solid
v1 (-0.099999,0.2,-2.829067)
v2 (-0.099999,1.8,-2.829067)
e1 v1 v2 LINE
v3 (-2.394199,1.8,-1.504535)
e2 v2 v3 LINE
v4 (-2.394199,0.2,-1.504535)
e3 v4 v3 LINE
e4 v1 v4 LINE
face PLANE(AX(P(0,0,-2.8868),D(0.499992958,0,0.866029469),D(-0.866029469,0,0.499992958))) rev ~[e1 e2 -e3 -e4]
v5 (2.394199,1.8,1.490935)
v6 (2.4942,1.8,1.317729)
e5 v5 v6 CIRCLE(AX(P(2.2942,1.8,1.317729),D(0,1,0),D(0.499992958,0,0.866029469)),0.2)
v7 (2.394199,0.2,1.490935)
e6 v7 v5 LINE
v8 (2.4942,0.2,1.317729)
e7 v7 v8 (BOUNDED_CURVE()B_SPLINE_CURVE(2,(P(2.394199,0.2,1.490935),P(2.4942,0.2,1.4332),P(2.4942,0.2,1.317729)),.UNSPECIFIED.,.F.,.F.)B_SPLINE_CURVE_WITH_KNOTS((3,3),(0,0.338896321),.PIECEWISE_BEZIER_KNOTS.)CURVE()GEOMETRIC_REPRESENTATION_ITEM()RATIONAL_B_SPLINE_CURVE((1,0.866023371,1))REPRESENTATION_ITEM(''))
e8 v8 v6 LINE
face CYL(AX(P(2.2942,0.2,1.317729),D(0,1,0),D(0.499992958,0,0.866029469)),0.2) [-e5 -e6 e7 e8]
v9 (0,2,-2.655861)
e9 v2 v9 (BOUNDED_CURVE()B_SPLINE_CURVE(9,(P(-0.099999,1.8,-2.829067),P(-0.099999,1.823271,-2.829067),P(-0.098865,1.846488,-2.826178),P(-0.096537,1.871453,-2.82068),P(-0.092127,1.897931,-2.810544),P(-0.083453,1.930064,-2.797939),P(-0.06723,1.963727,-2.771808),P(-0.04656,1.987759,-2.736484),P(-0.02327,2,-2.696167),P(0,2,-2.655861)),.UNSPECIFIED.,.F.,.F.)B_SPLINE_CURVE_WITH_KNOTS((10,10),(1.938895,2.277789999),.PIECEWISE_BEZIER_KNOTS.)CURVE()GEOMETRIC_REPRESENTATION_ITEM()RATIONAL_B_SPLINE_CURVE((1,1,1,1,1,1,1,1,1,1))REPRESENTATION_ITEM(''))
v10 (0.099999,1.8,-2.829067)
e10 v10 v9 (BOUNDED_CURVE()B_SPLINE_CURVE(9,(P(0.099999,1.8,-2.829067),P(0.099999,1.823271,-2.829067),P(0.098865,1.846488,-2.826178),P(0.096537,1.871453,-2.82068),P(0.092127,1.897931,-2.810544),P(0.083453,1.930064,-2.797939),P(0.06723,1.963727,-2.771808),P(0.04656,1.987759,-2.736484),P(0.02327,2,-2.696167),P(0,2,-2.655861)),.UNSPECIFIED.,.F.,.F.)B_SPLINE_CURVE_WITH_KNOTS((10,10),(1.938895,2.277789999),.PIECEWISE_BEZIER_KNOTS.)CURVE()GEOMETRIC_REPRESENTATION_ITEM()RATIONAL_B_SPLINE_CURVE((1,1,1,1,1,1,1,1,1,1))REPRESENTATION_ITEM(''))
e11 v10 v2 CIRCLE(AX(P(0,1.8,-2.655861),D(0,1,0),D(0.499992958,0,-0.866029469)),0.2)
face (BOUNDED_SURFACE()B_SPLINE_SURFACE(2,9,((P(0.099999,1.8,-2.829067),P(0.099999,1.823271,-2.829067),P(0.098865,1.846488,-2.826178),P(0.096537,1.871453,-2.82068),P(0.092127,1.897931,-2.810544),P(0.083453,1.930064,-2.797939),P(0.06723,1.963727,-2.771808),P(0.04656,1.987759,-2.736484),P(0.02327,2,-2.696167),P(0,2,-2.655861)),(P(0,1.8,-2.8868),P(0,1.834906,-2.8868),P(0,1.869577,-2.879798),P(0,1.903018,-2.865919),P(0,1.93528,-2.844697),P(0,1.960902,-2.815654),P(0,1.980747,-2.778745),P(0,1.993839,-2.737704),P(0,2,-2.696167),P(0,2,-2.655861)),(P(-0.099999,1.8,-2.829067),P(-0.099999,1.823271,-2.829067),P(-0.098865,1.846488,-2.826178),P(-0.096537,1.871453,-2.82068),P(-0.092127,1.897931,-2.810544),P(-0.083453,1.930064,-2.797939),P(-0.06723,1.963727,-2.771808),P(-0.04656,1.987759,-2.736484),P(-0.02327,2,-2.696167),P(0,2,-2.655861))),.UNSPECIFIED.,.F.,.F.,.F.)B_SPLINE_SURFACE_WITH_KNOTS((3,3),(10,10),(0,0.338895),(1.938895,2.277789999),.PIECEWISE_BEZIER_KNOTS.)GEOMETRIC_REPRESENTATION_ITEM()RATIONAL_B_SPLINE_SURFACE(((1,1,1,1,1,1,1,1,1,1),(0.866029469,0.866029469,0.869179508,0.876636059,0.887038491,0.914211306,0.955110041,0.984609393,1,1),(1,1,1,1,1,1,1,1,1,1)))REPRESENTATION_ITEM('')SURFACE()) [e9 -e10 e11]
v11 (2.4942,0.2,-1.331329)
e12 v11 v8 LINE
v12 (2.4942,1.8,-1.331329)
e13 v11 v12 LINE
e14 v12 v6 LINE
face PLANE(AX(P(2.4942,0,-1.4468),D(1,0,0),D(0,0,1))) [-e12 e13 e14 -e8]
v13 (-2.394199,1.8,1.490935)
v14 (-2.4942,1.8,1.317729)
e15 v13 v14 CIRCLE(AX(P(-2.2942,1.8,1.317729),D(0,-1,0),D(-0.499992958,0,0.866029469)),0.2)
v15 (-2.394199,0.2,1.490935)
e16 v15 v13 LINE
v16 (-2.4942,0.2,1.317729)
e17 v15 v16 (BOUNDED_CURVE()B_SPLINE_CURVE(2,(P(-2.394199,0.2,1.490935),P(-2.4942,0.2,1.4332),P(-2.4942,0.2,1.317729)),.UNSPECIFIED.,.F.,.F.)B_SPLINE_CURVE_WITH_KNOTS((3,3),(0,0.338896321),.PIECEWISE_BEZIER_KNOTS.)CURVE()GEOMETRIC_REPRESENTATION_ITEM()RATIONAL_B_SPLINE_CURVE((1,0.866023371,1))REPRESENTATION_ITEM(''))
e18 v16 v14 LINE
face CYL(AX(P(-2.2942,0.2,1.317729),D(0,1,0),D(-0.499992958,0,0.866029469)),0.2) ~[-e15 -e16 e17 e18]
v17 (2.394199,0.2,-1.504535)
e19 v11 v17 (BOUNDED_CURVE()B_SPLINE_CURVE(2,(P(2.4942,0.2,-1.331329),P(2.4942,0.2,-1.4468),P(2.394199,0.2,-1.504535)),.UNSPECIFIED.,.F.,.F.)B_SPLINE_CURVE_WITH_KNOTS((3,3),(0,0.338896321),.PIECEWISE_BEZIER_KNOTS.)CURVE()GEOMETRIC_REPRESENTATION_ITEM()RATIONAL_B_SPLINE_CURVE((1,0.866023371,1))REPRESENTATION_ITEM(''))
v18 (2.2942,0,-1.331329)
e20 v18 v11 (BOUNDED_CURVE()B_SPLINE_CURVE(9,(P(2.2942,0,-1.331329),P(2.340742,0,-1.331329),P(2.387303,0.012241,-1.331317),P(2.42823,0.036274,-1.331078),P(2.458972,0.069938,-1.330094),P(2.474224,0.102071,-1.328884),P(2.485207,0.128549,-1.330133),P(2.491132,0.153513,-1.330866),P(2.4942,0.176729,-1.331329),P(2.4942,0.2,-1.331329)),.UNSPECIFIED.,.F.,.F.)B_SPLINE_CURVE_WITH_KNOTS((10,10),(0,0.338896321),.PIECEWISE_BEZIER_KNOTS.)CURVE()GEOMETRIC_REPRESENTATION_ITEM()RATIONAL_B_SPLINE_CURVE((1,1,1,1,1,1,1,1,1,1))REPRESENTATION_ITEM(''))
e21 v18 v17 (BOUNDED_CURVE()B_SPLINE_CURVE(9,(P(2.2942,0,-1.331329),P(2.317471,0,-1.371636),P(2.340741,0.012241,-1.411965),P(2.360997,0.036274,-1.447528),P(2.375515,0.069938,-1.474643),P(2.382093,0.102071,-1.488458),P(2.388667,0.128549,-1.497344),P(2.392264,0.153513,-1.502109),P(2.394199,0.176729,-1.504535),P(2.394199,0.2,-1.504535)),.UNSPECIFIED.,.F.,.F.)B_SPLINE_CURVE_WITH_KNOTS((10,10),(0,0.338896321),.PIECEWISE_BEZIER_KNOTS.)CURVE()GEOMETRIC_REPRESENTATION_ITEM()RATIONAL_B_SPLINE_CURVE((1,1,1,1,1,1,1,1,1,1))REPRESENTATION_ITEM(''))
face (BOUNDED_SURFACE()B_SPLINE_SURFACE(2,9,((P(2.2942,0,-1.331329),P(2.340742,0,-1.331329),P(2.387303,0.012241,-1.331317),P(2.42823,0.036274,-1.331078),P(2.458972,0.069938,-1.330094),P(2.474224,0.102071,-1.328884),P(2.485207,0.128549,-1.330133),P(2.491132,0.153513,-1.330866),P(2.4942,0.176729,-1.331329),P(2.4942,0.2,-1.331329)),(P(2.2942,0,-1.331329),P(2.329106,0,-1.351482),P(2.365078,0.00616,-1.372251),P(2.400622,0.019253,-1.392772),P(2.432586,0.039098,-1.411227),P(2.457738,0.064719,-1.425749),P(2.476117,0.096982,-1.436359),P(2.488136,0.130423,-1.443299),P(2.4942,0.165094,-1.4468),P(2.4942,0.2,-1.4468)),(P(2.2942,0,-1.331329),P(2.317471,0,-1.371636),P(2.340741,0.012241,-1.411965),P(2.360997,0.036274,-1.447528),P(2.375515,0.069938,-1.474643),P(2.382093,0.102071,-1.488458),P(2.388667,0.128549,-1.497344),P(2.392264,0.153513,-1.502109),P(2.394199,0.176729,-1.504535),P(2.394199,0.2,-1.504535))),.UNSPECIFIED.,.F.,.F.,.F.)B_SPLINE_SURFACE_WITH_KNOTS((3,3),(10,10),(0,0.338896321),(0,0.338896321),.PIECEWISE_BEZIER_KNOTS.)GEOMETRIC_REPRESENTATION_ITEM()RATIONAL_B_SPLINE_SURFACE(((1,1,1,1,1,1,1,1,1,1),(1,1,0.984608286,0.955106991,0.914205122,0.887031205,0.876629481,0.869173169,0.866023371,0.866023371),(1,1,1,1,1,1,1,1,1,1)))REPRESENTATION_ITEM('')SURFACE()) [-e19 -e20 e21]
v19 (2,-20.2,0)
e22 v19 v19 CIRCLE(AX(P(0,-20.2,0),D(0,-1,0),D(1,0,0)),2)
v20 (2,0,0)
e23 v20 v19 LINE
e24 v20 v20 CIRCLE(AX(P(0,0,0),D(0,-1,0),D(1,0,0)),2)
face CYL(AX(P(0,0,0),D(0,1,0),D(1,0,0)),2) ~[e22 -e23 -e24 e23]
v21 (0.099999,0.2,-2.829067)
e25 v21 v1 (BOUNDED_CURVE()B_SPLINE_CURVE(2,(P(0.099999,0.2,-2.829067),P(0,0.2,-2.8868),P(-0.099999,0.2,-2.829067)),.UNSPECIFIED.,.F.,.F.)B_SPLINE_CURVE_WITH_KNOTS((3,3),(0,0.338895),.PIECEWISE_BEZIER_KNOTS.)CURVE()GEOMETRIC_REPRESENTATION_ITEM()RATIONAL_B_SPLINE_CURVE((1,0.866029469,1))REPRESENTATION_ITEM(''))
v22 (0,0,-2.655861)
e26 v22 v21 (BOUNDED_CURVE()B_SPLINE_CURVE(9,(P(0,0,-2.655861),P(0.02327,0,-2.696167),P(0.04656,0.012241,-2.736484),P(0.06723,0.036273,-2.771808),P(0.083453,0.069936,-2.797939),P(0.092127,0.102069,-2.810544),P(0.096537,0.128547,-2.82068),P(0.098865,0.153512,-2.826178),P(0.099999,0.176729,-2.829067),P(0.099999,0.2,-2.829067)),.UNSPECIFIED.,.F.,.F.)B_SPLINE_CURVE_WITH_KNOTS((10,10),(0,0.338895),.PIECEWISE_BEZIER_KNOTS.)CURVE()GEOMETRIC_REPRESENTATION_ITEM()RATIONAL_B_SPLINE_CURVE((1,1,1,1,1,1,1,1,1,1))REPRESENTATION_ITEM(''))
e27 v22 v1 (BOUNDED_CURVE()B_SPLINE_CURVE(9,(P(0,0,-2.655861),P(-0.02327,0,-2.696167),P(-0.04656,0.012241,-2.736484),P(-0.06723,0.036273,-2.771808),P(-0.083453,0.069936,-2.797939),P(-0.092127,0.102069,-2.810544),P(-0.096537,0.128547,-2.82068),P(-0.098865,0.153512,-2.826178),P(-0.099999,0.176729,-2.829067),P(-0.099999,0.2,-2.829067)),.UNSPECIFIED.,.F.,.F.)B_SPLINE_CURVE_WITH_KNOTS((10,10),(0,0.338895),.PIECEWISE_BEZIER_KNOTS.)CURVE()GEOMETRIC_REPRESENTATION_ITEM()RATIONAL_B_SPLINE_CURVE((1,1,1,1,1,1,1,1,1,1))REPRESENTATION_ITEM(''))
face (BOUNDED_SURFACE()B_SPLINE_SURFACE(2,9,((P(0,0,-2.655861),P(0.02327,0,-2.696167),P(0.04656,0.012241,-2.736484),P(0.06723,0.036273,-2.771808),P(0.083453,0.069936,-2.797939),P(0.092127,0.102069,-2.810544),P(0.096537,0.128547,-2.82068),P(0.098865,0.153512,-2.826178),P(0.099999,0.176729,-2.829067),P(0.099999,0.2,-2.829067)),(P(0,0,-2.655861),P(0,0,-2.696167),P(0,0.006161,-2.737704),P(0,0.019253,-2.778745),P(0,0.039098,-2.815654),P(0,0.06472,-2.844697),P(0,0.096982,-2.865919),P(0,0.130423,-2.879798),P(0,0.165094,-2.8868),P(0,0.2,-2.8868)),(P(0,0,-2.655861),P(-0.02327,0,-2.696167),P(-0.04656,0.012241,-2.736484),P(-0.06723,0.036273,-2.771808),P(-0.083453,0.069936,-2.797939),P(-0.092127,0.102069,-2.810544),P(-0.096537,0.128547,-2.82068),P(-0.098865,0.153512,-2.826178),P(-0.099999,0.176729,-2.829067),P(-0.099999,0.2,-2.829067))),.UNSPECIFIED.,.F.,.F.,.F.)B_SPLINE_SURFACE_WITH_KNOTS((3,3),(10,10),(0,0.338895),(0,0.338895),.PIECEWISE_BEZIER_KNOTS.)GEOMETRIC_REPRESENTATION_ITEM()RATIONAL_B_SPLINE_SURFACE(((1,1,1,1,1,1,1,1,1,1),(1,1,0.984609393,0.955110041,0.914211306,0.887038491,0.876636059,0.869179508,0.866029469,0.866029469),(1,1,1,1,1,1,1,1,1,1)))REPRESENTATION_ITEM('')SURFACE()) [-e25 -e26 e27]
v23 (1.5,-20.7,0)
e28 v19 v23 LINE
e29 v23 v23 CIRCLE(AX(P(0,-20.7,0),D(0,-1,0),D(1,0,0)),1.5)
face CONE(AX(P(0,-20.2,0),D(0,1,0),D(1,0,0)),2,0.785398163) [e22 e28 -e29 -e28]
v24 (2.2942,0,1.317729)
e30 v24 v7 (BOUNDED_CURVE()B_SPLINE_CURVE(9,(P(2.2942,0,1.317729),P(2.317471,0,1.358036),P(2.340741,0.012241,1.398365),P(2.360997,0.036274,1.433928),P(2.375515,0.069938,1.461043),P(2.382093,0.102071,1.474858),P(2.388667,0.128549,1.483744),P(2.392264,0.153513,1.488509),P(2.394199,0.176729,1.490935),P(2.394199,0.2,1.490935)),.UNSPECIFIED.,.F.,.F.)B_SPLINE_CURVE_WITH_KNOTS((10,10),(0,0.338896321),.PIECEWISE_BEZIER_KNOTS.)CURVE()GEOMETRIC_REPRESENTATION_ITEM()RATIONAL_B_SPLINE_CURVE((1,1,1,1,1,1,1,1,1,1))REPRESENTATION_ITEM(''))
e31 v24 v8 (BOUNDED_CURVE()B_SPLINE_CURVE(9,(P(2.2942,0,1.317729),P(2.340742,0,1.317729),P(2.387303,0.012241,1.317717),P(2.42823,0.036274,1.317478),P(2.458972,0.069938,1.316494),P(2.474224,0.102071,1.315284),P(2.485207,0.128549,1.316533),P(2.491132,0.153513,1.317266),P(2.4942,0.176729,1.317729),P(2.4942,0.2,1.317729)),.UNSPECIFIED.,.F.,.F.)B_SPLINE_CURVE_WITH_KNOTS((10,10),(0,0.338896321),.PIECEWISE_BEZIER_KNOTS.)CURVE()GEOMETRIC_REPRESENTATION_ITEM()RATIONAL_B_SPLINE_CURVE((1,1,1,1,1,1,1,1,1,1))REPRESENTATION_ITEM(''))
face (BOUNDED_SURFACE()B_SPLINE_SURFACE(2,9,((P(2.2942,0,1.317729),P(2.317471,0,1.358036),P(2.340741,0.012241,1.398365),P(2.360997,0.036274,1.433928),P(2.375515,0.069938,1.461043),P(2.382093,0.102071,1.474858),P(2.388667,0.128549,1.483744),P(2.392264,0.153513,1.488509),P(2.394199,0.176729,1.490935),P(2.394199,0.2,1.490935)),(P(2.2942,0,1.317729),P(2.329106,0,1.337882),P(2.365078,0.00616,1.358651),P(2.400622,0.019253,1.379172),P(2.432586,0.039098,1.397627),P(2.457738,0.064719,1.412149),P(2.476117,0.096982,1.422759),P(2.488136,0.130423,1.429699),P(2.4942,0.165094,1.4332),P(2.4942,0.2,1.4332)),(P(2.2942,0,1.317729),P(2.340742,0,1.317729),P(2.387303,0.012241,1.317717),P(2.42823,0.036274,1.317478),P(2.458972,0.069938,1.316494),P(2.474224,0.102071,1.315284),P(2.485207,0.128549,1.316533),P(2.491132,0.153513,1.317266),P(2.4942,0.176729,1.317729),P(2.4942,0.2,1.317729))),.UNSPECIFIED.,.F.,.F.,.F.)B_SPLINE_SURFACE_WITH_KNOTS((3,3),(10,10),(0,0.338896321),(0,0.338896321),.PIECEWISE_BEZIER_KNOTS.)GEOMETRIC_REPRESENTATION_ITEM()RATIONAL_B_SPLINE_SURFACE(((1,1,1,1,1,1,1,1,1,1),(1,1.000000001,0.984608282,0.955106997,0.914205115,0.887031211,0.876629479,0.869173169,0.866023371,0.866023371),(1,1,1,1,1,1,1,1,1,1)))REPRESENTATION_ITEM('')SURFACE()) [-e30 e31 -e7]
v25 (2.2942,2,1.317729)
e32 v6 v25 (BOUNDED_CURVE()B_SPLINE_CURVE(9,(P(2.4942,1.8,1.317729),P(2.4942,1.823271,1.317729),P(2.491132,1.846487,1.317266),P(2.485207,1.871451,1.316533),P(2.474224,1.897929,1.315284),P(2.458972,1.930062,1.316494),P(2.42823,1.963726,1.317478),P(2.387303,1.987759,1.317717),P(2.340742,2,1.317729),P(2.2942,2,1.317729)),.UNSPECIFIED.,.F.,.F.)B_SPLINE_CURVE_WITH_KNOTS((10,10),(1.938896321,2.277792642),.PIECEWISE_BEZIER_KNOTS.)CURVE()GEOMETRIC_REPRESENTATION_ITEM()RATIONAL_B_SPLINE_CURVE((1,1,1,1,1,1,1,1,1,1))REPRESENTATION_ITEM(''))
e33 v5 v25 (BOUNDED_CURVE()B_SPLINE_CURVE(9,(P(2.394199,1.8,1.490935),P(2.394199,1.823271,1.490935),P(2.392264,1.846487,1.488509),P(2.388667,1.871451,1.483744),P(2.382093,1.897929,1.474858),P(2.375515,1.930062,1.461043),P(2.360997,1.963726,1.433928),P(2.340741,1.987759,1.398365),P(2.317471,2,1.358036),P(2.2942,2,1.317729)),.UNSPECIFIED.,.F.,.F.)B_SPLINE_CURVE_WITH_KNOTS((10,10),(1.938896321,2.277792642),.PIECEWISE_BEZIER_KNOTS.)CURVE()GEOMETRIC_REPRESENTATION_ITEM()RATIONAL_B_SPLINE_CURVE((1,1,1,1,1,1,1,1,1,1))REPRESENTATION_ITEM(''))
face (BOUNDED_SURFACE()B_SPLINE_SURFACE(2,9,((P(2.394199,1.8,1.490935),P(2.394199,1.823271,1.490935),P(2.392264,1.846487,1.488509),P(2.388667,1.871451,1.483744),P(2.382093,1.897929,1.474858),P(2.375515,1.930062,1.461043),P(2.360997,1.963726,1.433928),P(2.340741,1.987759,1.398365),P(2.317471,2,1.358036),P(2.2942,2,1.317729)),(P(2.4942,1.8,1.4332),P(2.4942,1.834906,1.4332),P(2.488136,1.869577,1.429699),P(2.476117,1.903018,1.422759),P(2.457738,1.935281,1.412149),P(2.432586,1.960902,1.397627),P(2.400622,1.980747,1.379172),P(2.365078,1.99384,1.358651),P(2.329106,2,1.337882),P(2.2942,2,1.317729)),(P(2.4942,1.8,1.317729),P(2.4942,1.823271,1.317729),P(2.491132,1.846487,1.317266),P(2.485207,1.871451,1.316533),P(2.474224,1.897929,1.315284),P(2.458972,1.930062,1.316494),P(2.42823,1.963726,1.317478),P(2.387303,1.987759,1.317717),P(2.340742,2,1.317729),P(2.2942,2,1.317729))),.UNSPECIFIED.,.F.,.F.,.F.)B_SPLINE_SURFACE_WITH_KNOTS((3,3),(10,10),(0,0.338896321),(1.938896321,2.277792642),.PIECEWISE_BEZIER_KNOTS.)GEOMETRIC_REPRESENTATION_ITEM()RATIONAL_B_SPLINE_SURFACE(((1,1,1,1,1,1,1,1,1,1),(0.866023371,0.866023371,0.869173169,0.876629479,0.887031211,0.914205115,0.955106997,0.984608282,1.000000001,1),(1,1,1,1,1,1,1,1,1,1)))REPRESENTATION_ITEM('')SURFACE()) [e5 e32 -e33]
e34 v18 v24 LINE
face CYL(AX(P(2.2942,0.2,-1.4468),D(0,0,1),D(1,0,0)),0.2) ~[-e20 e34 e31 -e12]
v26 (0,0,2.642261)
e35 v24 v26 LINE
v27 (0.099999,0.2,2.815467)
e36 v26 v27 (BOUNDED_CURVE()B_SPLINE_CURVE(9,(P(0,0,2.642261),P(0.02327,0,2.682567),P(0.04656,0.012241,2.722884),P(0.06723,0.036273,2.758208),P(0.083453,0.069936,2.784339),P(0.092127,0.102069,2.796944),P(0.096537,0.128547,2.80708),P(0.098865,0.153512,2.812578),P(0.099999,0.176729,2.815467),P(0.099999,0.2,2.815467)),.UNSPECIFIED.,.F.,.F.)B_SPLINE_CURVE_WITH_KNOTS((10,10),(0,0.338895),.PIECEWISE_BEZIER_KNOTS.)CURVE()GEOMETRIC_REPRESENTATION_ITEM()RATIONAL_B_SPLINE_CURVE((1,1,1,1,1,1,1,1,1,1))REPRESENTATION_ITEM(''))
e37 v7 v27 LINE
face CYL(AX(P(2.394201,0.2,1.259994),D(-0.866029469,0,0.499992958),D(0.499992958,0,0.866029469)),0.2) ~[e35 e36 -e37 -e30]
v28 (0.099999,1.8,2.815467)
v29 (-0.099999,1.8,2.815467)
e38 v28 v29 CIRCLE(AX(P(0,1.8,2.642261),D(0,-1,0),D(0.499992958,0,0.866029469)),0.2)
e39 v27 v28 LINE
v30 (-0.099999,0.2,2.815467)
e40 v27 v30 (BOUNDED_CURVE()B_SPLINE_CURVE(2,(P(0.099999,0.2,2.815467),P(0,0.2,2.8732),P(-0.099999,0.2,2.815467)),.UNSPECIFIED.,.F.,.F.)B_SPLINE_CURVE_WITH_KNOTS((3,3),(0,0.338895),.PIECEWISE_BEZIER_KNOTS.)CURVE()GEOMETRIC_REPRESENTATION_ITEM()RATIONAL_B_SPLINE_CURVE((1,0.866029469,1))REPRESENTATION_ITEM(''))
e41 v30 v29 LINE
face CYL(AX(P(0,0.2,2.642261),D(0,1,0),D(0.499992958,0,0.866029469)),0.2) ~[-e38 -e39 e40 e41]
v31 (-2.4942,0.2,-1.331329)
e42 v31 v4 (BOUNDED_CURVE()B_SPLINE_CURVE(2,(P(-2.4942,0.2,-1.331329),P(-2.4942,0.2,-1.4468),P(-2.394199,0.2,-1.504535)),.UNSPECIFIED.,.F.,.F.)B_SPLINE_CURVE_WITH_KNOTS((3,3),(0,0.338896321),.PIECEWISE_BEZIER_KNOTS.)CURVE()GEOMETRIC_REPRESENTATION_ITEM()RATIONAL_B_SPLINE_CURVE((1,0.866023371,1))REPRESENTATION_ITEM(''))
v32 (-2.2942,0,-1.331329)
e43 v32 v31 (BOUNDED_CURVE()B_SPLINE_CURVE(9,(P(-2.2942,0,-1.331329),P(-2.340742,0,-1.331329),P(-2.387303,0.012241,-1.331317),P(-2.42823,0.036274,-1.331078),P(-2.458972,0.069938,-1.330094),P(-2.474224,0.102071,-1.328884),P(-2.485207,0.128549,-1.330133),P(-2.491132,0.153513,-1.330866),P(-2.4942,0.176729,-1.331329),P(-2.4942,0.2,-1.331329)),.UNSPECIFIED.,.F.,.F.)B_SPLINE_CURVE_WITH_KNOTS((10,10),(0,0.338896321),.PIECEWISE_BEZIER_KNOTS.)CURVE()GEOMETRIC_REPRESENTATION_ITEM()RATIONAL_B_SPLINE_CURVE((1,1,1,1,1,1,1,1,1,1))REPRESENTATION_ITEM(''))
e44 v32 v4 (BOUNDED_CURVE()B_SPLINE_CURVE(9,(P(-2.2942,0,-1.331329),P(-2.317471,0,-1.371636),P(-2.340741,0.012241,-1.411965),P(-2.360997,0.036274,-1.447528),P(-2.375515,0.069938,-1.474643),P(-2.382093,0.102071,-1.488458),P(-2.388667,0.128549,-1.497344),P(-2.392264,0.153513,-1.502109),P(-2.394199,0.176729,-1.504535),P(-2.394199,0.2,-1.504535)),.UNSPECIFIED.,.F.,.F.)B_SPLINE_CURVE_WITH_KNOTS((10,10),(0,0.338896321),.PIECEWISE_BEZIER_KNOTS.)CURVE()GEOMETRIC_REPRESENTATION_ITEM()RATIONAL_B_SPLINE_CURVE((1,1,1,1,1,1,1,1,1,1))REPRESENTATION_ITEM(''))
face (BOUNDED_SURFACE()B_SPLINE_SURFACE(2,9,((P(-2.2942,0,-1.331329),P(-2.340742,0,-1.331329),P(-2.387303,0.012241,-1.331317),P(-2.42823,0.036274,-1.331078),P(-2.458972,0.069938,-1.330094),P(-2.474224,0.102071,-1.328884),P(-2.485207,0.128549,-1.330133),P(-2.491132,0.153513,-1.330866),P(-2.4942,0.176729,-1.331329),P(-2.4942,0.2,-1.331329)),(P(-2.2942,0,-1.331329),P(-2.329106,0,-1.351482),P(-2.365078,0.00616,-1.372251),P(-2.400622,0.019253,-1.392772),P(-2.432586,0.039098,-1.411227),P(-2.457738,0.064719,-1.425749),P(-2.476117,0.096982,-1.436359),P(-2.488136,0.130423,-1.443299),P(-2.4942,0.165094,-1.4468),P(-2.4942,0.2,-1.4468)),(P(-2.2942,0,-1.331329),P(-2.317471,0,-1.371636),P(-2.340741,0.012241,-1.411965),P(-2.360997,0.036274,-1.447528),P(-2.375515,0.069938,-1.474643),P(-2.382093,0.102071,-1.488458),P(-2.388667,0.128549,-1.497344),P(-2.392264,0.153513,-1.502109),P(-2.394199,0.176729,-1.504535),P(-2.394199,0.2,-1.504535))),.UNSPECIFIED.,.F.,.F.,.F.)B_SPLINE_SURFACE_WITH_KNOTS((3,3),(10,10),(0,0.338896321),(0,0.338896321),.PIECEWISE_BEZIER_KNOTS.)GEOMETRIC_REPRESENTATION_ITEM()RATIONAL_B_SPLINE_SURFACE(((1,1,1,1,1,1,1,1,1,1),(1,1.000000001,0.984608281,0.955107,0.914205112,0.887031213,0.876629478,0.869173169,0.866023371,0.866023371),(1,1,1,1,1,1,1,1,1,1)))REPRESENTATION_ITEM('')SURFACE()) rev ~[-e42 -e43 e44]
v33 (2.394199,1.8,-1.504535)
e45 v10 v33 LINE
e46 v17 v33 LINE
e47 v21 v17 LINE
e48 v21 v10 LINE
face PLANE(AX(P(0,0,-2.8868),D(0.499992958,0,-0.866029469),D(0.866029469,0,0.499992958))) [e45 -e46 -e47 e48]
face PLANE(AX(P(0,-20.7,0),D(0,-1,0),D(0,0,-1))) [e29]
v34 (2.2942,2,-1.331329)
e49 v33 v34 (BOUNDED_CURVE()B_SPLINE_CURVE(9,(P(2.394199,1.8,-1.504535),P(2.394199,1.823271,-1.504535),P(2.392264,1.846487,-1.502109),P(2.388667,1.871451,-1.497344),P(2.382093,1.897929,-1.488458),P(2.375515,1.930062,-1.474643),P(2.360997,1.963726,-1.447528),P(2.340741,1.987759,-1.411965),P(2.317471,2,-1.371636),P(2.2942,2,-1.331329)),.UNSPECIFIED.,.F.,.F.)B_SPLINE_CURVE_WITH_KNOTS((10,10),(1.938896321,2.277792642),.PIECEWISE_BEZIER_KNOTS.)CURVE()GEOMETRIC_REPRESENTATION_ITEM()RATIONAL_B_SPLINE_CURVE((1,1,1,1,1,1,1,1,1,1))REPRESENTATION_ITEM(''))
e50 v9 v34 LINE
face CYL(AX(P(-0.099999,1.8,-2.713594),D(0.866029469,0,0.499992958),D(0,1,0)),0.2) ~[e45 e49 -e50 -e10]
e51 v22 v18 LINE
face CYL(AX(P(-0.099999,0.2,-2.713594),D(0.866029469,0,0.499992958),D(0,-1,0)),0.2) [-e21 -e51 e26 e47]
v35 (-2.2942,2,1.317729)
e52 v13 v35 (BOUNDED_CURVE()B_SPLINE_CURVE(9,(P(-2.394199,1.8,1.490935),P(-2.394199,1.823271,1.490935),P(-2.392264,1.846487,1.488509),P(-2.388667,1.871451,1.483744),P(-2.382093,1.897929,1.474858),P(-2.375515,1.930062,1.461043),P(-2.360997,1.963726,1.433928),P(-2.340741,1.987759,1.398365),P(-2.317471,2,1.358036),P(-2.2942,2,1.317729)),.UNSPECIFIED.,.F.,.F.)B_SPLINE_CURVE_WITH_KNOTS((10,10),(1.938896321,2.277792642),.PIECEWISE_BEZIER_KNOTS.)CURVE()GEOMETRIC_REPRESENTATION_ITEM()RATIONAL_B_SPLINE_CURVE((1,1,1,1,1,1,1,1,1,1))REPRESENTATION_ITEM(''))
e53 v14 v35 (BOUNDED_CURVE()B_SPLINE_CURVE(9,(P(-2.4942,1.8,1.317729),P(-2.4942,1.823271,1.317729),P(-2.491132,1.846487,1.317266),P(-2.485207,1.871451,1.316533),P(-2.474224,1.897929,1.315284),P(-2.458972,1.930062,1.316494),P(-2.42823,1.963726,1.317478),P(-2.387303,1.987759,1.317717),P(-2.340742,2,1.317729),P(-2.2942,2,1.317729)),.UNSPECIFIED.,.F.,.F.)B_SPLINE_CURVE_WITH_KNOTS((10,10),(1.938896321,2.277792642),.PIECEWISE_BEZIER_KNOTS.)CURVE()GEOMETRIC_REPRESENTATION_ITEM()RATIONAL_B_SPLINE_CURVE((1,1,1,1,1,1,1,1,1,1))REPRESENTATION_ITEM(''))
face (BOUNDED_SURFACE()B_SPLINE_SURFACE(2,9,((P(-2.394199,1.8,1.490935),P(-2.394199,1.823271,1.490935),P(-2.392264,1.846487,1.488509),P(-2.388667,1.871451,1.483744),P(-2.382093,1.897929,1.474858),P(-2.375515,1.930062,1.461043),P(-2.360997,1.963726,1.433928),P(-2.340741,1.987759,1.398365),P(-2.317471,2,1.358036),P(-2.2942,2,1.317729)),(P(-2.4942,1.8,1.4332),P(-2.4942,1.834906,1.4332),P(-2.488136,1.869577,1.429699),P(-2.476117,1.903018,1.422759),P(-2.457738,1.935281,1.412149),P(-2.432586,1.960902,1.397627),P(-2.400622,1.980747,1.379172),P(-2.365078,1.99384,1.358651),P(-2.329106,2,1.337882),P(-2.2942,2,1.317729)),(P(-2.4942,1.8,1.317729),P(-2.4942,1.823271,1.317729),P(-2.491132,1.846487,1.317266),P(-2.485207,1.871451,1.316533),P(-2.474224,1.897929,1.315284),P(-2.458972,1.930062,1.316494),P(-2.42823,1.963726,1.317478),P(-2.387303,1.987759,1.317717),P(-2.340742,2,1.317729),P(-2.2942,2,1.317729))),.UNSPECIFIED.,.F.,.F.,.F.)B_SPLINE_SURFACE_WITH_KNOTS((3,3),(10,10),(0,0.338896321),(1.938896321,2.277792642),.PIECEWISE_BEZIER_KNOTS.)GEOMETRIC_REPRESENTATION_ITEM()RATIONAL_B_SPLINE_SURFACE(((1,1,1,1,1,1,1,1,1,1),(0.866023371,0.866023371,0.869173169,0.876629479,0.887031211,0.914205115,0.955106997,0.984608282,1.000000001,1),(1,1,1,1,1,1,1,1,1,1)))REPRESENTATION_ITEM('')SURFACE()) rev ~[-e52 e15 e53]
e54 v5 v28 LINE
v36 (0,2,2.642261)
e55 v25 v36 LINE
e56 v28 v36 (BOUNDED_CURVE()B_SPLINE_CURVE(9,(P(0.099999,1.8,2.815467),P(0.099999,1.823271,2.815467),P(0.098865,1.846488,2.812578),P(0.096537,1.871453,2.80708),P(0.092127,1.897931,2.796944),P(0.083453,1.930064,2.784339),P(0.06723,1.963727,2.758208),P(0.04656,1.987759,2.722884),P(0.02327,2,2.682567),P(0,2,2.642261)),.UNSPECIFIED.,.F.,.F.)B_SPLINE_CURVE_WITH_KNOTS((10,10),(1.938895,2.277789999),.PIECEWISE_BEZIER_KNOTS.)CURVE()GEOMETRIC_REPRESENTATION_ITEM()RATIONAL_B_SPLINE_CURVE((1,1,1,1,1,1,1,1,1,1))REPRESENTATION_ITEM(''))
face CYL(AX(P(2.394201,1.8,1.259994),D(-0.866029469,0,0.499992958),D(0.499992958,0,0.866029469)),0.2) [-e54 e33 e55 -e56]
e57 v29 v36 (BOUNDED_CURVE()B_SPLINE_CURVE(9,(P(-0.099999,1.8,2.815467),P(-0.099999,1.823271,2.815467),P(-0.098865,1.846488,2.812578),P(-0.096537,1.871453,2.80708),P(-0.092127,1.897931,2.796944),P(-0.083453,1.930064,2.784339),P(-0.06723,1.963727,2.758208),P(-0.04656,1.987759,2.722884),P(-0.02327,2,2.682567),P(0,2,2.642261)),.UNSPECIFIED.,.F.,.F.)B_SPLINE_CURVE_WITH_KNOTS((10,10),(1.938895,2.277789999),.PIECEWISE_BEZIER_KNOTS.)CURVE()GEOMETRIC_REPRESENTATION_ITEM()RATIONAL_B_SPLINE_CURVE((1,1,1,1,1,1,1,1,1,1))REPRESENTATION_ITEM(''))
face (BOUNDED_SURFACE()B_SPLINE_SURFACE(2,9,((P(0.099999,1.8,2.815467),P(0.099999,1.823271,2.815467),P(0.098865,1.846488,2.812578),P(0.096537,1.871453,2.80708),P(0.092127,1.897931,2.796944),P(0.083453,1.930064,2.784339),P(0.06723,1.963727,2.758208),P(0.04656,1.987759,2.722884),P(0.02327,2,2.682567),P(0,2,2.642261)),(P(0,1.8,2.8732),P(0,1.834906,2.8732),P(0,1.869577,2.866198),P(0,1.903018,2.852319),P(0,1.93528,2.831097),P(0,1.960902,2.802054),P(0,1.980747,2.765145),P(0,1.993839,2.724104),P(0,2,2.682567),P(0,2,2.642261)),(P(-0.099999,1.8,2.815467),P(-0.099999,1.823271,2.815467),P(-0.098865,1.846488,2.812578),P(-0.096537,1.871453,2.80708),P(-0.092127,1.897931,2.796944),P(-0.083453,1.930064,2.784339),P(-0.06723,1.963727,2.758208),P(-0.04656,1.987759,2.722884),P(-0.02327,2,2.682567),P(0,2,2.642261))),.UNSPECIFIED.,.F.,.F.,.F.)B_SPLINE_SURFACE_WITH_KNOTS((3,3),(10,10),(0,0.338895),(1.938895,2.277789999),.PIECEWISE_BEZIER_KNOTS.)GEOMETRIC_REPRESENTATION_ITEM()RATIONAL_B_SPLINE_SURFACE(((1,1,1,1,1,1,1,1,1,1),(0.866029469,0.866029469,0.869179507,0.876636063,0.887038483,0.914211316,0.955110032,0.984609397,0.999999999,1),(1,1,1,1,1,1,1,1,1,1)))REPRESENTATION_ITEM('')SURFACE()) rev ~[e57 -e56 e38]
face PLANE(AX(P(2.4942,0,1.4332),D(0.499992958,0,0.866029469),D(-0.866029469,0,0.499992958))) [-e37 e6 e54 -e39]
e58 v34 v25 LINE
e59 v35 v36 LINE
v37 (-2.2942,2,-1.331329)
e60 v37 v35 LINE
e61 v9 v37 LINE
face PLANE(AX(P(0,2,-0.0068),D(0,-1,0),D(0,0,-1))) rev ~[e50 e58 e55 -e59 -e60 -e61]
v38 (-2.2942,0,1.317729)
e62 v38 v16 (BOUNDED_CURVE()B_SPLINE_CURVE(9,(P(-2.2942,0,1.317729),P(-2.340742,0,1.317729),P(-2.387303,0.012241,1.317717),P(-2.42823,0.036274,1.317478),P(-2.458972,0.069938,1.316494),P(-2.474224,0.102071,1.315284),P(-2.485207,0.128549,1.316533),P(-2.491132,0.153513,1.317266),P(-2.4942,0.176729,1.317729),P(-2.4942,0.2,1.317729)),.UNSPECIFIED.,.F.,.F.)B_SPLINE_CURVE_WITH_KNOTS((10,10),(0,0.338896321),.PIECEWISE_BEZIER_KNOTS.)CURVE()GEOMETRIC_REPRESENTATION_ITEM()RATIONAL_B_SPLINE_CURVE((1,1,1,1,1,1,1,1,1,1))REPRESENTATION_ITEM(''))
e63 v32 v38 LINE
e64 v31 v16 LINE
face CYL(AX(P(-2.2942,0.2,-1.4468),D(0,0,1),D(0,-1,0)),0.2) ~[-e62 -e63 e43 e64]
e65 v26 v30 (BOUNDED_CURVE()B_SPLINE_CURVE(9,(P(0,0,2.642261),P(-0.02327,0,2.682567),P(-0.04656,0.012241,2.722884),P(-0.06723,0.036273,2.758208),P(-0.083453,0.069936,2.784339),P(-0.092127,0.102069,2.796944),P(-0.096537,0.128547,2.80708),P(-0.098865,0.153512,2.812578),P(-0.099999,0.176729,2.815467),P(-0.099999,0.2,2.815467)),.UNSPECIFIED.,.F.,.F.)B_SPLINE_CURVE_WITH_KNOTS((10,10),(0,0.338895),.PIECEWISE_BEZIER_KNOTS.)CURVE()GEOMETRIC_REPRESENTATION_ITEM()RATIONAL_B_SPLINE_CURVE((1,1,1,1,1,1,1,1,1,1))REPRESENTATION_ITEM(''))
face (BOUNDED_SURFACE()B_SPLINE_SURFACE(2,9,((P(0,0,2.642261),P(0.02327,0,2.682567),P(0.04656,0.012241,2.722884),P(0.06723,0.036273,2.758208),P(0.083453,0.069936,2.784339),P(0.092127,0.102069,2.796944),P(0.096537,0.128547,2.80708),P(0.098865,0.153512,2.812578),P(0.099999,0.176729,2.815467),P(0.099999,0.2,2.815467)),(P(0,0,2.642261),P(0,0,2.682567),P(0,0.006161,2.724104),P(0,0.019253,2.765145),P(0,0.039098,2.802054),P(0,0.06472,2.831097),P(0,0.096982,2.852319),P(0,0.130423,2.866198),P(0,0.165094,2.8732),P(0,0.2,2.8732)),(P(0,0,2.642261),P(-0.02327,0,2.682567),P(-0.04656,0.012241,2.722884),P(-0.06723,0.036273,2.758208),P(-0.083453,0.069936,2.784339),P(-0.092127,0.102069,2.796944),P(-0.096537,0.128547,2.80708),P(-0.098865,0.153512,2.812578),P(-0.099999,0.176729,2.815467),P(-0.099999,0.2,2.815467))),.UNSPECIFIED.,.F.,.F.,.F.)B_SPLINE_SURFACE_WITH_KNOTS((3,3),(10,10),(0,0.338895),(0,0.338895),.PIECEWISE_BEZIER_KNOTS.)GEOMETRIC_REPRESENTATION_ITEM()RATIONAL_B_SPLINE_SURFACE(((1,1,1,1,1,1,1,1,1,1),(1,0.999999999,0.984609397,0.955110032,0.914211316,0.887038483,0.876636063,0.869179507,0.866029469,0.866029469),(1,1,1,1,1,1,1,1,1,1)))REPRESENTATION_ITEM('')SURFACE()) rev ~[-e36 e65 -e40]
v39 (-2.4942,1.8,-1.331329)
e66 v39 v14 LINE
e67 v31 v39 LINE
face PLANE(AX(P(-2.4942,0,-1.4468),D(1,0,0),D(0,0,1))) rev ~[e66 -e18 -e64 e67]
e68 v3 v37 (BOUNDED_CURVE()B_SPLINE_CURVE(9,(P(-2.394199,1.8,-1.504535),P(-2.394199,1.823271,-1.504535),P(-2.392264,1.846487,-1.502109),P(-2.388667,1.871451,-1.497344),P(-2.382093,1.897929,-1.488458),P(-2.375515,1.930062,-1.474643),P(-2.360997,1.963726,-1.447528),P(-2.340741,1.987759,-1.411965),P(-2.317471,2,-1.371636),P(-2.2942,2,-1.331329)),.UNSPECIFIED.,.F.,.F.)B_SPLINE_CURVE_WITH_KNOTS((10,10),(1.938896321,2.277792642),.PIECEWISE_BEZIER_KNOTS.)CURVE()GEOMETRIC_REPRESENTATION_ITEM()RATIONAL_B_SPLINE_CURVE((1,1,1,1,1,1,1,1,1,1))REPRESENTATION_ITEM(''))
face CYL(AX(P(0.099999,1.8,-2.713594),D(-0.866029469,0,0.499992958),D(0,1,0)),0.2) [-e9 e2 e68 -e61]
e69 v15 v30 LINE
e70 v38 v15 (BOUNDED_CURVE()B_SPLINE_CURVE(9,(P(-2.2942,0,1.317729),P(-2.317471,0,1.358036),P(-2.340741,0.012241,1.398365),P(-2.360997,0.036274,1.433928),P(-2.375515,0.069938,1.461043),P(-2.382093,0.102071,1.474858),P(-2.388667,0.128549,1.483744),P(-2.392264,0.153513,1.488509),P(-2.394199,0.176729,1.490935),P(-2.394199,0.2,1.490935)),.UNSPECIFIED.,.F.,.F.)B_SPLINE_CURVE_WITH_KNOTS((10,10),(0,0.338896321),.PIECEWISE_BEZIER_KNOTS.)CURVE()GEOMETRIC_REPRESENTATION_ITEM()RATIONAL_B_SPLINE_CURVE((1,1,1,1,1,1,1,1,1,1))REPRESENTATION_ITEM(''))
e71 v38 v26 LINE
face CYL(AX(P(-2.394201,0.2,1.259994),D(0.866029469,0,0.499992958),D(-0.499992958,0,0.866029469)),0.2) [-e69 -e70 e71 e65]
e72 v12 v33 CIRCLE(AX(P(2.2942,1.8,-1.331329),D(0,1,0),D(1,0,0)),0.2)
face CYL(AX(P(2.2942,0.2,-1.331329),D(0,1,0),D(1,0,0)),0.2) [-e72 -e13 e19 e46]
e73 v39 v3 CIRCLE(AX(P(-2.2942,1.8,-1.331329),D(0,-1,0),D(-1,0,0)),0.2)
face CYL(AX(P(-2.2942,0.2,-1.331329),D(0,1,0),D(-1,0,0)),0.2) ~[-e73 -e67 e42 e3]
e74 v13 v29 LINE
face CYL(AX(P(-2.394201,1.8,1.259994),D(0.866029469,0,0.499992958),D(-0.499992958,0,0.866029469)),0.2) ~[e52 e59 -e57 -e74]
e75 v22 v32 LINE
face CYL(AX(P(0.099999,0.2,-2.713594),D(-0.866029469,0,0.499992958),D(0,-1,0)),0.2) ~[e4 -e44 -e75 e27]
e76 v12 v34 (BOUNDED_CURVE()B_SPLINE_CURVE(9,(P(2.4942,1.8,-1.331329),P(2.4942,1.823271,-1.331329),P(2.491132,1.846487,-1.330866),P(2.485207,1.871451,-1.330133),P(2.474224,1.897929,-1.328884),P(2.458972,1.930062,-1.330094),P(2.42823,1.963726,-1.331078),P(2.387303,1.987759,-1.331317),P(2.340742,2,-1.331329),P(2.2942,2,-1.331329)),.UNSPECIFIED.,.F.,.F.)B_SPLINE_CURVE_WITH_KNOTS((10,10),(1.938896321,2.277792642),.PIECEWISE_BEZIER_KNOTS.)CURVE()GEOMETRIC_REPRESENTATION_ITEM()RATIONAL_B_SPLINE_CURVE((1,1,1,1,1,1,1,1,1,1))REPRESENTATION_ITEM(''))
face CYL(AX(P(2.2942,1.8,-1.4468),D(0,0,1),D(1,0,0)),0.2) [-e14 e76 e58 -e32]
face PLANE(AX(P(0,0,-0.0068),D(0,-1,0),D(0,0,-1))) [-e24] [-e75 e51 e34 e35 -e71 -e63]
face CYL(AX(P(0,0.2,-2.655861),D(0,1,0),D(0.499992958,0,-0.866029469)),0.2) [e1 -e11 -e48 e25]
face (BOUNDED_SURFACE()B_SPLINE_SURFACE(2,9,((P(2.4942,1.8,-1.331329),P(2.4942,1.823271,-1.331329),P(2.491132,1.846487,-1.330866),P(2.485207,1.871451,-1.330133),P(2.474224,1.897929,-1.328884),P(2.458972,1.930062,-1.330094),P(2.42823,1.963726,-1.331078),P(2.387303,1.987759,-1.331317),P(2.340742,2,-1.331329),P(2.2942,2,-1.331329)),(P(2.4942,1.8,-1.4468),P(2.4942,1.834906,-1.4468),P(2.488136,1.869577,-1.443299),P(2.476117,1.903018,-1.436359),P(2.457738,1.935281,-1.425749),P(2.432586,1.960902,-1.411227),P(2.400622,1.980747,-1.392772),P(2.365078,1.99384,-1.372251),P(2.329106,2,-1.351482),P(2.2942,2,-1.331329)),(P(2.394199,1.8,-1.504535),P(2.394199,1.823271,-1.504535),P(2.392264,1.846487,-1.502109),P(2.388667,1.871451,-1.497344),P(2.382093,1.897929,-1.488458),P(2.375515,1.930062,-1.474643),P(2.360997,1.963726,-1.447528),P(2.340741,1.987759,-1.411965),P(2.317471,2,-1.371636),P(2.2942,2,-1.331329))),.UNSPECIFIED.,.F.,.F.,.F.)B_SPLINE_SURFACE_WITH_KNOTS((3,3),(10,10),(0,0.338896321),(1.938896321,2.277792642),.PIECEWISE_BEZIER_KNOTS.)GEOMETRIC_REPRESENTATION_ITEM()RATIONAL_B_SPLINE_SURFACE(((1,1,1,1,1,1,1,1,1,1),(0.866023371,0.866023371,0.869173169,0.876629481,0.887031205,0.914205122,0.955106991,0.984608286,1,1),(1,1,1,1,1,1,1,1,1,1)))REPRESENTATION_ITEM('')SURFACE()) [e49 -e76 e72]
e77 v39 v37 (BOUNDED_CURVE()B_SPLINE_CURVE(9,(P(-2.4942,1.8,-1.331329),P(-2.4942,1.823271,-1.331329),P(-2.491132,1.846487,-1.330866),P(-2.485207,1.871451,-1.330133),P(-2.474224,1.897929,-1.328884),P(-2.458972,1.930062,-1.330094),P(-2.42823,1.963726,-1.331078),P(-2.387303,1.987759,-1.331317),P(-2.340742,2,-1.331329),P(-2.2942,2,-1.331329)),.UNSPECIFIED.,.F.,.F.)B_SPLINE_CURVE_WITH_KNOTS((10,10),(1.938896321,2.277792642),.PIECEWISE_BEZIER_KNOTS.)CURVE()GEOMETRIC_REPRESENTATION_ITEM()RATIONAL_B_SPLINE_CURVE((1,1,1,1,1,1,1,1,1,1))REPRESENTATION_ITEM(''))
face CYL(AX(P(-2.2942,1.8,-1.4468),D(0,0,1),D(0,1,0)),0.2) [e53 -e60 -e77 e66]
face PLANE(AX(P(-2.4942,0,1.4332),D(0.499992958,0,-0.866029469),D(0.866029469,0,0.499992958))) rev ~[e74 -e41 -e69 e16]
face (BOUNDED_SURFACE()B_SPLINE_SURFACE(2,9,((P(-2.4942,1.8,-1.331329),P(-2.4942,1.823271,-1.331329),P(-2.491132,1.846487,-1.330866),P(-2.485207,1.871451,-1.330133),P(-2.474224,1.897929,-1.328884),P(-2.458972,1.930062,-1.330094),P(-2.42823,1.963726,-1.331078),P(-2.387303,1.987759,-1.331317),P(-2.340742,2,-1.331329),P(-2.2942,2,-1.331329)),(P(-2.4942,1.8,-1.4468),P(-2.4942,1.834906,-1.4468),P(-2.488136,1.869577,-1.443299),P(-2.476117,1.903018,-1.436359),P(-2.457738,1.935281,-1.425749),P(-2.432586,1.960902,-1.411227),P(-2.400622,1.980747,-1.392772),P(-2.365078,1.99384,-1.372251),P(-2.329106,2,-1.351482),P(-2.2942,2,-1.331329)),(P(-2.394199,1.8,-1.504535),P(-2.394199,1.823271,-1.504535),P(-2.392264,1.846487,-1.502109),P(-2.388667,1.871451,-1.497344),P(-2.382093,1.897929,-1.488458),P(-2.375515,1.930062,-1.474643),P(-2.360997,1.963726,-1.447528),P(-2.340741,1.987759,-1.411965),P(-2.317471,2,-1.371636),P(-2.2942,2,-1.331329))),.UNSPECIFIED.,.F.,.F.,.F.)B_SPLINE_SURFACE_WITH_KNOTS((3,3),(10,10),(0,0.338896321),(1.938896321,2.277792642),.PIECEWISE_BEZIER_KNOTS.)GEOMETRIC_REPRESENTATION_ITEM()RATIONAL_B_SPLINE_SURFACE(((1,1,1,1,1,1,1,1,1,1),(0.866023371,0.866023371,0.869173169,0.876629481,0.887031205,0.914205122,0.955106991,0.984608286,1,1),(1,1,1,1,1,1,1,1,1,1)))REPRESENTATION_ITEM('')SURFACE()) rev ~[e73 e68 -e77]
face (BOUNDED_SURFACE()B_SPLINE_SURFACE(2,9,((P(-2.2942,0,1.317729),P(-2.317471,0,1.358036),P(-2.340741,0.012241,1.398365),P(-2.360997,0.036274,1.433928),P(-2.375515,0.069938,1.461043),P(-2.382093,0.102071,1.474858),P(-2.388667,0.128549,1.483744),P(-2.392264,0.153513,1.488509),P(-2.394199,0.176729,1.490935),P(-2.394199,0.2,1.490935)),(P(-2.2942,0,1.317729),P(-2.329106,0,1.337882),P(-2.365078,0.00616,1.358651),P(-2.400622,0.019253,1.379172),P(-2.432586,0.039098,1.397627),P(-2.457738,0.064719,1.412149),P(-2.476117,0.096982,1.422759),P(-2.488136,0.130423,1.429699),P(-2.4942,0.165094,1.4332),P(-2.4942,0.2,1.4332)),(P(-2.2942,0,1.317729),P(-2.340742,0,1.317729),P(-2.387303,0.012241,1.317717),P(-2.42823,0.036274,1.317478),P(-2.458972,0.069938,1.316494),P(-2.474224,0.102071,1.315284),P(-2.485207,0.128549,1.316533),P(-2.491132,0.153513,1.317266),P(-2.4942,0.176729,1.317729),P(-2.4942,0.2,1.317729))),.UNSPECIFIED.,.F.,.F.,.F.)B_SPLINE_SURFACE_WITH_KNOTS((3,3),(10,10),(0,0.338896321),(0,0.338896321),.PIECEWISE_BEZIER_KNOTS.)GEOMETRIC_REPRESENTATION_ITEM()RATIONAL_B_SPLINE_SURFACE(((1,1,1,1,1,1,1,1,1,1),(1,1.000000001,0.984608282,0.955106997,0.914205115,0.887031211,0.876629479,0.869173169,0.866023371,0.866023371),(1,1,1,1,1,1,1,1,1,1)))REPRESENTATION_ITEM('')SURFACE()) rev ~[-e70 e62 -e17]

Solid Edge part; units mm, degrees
sketch "Sketch1" plane through (0, 0, 0) normal (0, -1, 0) x (1, 0, 0)
  circle A0 centre (0, 0) radius 2
extrude "Protrusion1" add sketch "Sketch1" along normal blind 20.7
sketch "Sketch2" plane through (0, 0, 0) normal (0, 1, 0) x (1, 0, 0)
  line L0 (2.4942, -1.4332) -> (0, -2.8732)
  line L1 (-2.4942, -1.4332) -> (0, -2.8732)
  line L2 (-2.4942, 1.4468) -> (-2.4942, -1.4332)
  line L3 (0, 2.8868) -> (-2.4942, 1.4468)
  line L4 (0, 2.8868) -> (2.4942, 1.4468)
  line L5 (2.4942, 1.4468) -> (2.4942, -1.4332)
extrude "ExtrudedProtrusion_2" add sketch "Sketch2" along normal blind 2
fillet "Round_1" radius 0.2 12 edges at (1.2471, 0, 2.1532) (-1.2471, 0, 2.1532) (2.4942, 0, -0.0068) (1.2471, 0, -2.1668) (-1.2471, 0, -2.1668) (-2.4942, 0, -0.0068) (1.2471, 2, 2.1532) (-1.2471, 2, 2.1532) (-2.4942, 2, -0.0068) (-1.2471, 2, -2.1668) (1.2471, 2, -2.1668) (2.4942, 2, -0.0068)
fillet "Round_2" radius 0.2 18 edges at (0, 1, 2.8732) (0, 0.0586, 2.8056) (0, 1.9414, 2.8056) (2.4942, 1, 1.4332) (2.4356, 0.0586, 1.3994) (2.4356, 1.9414, 1.3994) (2.4942, 1, -1.4468) (2.4356, 0.0586, -1.4129) (2.4356, 1.9414, -1.4129) (-2.4942, 1, 1.4332) (-2.4356, 0.0586, 1.3994) (-2.4356, 1.9414, 1.3994) (0, 1, -2.8868) (0, 0.0586, -2.8191) (0, 1.9414, -2.8191) (-2.4942, 1, -1.4468) (-2.4356, 0.0586, -1.4129) (-2.4356, 1.9414, -1.4129)
chamfer "Chamfer_1" distance 0.5 angle 45 1 edges at (-2, -20.7, 0)
properties material "PVC"
